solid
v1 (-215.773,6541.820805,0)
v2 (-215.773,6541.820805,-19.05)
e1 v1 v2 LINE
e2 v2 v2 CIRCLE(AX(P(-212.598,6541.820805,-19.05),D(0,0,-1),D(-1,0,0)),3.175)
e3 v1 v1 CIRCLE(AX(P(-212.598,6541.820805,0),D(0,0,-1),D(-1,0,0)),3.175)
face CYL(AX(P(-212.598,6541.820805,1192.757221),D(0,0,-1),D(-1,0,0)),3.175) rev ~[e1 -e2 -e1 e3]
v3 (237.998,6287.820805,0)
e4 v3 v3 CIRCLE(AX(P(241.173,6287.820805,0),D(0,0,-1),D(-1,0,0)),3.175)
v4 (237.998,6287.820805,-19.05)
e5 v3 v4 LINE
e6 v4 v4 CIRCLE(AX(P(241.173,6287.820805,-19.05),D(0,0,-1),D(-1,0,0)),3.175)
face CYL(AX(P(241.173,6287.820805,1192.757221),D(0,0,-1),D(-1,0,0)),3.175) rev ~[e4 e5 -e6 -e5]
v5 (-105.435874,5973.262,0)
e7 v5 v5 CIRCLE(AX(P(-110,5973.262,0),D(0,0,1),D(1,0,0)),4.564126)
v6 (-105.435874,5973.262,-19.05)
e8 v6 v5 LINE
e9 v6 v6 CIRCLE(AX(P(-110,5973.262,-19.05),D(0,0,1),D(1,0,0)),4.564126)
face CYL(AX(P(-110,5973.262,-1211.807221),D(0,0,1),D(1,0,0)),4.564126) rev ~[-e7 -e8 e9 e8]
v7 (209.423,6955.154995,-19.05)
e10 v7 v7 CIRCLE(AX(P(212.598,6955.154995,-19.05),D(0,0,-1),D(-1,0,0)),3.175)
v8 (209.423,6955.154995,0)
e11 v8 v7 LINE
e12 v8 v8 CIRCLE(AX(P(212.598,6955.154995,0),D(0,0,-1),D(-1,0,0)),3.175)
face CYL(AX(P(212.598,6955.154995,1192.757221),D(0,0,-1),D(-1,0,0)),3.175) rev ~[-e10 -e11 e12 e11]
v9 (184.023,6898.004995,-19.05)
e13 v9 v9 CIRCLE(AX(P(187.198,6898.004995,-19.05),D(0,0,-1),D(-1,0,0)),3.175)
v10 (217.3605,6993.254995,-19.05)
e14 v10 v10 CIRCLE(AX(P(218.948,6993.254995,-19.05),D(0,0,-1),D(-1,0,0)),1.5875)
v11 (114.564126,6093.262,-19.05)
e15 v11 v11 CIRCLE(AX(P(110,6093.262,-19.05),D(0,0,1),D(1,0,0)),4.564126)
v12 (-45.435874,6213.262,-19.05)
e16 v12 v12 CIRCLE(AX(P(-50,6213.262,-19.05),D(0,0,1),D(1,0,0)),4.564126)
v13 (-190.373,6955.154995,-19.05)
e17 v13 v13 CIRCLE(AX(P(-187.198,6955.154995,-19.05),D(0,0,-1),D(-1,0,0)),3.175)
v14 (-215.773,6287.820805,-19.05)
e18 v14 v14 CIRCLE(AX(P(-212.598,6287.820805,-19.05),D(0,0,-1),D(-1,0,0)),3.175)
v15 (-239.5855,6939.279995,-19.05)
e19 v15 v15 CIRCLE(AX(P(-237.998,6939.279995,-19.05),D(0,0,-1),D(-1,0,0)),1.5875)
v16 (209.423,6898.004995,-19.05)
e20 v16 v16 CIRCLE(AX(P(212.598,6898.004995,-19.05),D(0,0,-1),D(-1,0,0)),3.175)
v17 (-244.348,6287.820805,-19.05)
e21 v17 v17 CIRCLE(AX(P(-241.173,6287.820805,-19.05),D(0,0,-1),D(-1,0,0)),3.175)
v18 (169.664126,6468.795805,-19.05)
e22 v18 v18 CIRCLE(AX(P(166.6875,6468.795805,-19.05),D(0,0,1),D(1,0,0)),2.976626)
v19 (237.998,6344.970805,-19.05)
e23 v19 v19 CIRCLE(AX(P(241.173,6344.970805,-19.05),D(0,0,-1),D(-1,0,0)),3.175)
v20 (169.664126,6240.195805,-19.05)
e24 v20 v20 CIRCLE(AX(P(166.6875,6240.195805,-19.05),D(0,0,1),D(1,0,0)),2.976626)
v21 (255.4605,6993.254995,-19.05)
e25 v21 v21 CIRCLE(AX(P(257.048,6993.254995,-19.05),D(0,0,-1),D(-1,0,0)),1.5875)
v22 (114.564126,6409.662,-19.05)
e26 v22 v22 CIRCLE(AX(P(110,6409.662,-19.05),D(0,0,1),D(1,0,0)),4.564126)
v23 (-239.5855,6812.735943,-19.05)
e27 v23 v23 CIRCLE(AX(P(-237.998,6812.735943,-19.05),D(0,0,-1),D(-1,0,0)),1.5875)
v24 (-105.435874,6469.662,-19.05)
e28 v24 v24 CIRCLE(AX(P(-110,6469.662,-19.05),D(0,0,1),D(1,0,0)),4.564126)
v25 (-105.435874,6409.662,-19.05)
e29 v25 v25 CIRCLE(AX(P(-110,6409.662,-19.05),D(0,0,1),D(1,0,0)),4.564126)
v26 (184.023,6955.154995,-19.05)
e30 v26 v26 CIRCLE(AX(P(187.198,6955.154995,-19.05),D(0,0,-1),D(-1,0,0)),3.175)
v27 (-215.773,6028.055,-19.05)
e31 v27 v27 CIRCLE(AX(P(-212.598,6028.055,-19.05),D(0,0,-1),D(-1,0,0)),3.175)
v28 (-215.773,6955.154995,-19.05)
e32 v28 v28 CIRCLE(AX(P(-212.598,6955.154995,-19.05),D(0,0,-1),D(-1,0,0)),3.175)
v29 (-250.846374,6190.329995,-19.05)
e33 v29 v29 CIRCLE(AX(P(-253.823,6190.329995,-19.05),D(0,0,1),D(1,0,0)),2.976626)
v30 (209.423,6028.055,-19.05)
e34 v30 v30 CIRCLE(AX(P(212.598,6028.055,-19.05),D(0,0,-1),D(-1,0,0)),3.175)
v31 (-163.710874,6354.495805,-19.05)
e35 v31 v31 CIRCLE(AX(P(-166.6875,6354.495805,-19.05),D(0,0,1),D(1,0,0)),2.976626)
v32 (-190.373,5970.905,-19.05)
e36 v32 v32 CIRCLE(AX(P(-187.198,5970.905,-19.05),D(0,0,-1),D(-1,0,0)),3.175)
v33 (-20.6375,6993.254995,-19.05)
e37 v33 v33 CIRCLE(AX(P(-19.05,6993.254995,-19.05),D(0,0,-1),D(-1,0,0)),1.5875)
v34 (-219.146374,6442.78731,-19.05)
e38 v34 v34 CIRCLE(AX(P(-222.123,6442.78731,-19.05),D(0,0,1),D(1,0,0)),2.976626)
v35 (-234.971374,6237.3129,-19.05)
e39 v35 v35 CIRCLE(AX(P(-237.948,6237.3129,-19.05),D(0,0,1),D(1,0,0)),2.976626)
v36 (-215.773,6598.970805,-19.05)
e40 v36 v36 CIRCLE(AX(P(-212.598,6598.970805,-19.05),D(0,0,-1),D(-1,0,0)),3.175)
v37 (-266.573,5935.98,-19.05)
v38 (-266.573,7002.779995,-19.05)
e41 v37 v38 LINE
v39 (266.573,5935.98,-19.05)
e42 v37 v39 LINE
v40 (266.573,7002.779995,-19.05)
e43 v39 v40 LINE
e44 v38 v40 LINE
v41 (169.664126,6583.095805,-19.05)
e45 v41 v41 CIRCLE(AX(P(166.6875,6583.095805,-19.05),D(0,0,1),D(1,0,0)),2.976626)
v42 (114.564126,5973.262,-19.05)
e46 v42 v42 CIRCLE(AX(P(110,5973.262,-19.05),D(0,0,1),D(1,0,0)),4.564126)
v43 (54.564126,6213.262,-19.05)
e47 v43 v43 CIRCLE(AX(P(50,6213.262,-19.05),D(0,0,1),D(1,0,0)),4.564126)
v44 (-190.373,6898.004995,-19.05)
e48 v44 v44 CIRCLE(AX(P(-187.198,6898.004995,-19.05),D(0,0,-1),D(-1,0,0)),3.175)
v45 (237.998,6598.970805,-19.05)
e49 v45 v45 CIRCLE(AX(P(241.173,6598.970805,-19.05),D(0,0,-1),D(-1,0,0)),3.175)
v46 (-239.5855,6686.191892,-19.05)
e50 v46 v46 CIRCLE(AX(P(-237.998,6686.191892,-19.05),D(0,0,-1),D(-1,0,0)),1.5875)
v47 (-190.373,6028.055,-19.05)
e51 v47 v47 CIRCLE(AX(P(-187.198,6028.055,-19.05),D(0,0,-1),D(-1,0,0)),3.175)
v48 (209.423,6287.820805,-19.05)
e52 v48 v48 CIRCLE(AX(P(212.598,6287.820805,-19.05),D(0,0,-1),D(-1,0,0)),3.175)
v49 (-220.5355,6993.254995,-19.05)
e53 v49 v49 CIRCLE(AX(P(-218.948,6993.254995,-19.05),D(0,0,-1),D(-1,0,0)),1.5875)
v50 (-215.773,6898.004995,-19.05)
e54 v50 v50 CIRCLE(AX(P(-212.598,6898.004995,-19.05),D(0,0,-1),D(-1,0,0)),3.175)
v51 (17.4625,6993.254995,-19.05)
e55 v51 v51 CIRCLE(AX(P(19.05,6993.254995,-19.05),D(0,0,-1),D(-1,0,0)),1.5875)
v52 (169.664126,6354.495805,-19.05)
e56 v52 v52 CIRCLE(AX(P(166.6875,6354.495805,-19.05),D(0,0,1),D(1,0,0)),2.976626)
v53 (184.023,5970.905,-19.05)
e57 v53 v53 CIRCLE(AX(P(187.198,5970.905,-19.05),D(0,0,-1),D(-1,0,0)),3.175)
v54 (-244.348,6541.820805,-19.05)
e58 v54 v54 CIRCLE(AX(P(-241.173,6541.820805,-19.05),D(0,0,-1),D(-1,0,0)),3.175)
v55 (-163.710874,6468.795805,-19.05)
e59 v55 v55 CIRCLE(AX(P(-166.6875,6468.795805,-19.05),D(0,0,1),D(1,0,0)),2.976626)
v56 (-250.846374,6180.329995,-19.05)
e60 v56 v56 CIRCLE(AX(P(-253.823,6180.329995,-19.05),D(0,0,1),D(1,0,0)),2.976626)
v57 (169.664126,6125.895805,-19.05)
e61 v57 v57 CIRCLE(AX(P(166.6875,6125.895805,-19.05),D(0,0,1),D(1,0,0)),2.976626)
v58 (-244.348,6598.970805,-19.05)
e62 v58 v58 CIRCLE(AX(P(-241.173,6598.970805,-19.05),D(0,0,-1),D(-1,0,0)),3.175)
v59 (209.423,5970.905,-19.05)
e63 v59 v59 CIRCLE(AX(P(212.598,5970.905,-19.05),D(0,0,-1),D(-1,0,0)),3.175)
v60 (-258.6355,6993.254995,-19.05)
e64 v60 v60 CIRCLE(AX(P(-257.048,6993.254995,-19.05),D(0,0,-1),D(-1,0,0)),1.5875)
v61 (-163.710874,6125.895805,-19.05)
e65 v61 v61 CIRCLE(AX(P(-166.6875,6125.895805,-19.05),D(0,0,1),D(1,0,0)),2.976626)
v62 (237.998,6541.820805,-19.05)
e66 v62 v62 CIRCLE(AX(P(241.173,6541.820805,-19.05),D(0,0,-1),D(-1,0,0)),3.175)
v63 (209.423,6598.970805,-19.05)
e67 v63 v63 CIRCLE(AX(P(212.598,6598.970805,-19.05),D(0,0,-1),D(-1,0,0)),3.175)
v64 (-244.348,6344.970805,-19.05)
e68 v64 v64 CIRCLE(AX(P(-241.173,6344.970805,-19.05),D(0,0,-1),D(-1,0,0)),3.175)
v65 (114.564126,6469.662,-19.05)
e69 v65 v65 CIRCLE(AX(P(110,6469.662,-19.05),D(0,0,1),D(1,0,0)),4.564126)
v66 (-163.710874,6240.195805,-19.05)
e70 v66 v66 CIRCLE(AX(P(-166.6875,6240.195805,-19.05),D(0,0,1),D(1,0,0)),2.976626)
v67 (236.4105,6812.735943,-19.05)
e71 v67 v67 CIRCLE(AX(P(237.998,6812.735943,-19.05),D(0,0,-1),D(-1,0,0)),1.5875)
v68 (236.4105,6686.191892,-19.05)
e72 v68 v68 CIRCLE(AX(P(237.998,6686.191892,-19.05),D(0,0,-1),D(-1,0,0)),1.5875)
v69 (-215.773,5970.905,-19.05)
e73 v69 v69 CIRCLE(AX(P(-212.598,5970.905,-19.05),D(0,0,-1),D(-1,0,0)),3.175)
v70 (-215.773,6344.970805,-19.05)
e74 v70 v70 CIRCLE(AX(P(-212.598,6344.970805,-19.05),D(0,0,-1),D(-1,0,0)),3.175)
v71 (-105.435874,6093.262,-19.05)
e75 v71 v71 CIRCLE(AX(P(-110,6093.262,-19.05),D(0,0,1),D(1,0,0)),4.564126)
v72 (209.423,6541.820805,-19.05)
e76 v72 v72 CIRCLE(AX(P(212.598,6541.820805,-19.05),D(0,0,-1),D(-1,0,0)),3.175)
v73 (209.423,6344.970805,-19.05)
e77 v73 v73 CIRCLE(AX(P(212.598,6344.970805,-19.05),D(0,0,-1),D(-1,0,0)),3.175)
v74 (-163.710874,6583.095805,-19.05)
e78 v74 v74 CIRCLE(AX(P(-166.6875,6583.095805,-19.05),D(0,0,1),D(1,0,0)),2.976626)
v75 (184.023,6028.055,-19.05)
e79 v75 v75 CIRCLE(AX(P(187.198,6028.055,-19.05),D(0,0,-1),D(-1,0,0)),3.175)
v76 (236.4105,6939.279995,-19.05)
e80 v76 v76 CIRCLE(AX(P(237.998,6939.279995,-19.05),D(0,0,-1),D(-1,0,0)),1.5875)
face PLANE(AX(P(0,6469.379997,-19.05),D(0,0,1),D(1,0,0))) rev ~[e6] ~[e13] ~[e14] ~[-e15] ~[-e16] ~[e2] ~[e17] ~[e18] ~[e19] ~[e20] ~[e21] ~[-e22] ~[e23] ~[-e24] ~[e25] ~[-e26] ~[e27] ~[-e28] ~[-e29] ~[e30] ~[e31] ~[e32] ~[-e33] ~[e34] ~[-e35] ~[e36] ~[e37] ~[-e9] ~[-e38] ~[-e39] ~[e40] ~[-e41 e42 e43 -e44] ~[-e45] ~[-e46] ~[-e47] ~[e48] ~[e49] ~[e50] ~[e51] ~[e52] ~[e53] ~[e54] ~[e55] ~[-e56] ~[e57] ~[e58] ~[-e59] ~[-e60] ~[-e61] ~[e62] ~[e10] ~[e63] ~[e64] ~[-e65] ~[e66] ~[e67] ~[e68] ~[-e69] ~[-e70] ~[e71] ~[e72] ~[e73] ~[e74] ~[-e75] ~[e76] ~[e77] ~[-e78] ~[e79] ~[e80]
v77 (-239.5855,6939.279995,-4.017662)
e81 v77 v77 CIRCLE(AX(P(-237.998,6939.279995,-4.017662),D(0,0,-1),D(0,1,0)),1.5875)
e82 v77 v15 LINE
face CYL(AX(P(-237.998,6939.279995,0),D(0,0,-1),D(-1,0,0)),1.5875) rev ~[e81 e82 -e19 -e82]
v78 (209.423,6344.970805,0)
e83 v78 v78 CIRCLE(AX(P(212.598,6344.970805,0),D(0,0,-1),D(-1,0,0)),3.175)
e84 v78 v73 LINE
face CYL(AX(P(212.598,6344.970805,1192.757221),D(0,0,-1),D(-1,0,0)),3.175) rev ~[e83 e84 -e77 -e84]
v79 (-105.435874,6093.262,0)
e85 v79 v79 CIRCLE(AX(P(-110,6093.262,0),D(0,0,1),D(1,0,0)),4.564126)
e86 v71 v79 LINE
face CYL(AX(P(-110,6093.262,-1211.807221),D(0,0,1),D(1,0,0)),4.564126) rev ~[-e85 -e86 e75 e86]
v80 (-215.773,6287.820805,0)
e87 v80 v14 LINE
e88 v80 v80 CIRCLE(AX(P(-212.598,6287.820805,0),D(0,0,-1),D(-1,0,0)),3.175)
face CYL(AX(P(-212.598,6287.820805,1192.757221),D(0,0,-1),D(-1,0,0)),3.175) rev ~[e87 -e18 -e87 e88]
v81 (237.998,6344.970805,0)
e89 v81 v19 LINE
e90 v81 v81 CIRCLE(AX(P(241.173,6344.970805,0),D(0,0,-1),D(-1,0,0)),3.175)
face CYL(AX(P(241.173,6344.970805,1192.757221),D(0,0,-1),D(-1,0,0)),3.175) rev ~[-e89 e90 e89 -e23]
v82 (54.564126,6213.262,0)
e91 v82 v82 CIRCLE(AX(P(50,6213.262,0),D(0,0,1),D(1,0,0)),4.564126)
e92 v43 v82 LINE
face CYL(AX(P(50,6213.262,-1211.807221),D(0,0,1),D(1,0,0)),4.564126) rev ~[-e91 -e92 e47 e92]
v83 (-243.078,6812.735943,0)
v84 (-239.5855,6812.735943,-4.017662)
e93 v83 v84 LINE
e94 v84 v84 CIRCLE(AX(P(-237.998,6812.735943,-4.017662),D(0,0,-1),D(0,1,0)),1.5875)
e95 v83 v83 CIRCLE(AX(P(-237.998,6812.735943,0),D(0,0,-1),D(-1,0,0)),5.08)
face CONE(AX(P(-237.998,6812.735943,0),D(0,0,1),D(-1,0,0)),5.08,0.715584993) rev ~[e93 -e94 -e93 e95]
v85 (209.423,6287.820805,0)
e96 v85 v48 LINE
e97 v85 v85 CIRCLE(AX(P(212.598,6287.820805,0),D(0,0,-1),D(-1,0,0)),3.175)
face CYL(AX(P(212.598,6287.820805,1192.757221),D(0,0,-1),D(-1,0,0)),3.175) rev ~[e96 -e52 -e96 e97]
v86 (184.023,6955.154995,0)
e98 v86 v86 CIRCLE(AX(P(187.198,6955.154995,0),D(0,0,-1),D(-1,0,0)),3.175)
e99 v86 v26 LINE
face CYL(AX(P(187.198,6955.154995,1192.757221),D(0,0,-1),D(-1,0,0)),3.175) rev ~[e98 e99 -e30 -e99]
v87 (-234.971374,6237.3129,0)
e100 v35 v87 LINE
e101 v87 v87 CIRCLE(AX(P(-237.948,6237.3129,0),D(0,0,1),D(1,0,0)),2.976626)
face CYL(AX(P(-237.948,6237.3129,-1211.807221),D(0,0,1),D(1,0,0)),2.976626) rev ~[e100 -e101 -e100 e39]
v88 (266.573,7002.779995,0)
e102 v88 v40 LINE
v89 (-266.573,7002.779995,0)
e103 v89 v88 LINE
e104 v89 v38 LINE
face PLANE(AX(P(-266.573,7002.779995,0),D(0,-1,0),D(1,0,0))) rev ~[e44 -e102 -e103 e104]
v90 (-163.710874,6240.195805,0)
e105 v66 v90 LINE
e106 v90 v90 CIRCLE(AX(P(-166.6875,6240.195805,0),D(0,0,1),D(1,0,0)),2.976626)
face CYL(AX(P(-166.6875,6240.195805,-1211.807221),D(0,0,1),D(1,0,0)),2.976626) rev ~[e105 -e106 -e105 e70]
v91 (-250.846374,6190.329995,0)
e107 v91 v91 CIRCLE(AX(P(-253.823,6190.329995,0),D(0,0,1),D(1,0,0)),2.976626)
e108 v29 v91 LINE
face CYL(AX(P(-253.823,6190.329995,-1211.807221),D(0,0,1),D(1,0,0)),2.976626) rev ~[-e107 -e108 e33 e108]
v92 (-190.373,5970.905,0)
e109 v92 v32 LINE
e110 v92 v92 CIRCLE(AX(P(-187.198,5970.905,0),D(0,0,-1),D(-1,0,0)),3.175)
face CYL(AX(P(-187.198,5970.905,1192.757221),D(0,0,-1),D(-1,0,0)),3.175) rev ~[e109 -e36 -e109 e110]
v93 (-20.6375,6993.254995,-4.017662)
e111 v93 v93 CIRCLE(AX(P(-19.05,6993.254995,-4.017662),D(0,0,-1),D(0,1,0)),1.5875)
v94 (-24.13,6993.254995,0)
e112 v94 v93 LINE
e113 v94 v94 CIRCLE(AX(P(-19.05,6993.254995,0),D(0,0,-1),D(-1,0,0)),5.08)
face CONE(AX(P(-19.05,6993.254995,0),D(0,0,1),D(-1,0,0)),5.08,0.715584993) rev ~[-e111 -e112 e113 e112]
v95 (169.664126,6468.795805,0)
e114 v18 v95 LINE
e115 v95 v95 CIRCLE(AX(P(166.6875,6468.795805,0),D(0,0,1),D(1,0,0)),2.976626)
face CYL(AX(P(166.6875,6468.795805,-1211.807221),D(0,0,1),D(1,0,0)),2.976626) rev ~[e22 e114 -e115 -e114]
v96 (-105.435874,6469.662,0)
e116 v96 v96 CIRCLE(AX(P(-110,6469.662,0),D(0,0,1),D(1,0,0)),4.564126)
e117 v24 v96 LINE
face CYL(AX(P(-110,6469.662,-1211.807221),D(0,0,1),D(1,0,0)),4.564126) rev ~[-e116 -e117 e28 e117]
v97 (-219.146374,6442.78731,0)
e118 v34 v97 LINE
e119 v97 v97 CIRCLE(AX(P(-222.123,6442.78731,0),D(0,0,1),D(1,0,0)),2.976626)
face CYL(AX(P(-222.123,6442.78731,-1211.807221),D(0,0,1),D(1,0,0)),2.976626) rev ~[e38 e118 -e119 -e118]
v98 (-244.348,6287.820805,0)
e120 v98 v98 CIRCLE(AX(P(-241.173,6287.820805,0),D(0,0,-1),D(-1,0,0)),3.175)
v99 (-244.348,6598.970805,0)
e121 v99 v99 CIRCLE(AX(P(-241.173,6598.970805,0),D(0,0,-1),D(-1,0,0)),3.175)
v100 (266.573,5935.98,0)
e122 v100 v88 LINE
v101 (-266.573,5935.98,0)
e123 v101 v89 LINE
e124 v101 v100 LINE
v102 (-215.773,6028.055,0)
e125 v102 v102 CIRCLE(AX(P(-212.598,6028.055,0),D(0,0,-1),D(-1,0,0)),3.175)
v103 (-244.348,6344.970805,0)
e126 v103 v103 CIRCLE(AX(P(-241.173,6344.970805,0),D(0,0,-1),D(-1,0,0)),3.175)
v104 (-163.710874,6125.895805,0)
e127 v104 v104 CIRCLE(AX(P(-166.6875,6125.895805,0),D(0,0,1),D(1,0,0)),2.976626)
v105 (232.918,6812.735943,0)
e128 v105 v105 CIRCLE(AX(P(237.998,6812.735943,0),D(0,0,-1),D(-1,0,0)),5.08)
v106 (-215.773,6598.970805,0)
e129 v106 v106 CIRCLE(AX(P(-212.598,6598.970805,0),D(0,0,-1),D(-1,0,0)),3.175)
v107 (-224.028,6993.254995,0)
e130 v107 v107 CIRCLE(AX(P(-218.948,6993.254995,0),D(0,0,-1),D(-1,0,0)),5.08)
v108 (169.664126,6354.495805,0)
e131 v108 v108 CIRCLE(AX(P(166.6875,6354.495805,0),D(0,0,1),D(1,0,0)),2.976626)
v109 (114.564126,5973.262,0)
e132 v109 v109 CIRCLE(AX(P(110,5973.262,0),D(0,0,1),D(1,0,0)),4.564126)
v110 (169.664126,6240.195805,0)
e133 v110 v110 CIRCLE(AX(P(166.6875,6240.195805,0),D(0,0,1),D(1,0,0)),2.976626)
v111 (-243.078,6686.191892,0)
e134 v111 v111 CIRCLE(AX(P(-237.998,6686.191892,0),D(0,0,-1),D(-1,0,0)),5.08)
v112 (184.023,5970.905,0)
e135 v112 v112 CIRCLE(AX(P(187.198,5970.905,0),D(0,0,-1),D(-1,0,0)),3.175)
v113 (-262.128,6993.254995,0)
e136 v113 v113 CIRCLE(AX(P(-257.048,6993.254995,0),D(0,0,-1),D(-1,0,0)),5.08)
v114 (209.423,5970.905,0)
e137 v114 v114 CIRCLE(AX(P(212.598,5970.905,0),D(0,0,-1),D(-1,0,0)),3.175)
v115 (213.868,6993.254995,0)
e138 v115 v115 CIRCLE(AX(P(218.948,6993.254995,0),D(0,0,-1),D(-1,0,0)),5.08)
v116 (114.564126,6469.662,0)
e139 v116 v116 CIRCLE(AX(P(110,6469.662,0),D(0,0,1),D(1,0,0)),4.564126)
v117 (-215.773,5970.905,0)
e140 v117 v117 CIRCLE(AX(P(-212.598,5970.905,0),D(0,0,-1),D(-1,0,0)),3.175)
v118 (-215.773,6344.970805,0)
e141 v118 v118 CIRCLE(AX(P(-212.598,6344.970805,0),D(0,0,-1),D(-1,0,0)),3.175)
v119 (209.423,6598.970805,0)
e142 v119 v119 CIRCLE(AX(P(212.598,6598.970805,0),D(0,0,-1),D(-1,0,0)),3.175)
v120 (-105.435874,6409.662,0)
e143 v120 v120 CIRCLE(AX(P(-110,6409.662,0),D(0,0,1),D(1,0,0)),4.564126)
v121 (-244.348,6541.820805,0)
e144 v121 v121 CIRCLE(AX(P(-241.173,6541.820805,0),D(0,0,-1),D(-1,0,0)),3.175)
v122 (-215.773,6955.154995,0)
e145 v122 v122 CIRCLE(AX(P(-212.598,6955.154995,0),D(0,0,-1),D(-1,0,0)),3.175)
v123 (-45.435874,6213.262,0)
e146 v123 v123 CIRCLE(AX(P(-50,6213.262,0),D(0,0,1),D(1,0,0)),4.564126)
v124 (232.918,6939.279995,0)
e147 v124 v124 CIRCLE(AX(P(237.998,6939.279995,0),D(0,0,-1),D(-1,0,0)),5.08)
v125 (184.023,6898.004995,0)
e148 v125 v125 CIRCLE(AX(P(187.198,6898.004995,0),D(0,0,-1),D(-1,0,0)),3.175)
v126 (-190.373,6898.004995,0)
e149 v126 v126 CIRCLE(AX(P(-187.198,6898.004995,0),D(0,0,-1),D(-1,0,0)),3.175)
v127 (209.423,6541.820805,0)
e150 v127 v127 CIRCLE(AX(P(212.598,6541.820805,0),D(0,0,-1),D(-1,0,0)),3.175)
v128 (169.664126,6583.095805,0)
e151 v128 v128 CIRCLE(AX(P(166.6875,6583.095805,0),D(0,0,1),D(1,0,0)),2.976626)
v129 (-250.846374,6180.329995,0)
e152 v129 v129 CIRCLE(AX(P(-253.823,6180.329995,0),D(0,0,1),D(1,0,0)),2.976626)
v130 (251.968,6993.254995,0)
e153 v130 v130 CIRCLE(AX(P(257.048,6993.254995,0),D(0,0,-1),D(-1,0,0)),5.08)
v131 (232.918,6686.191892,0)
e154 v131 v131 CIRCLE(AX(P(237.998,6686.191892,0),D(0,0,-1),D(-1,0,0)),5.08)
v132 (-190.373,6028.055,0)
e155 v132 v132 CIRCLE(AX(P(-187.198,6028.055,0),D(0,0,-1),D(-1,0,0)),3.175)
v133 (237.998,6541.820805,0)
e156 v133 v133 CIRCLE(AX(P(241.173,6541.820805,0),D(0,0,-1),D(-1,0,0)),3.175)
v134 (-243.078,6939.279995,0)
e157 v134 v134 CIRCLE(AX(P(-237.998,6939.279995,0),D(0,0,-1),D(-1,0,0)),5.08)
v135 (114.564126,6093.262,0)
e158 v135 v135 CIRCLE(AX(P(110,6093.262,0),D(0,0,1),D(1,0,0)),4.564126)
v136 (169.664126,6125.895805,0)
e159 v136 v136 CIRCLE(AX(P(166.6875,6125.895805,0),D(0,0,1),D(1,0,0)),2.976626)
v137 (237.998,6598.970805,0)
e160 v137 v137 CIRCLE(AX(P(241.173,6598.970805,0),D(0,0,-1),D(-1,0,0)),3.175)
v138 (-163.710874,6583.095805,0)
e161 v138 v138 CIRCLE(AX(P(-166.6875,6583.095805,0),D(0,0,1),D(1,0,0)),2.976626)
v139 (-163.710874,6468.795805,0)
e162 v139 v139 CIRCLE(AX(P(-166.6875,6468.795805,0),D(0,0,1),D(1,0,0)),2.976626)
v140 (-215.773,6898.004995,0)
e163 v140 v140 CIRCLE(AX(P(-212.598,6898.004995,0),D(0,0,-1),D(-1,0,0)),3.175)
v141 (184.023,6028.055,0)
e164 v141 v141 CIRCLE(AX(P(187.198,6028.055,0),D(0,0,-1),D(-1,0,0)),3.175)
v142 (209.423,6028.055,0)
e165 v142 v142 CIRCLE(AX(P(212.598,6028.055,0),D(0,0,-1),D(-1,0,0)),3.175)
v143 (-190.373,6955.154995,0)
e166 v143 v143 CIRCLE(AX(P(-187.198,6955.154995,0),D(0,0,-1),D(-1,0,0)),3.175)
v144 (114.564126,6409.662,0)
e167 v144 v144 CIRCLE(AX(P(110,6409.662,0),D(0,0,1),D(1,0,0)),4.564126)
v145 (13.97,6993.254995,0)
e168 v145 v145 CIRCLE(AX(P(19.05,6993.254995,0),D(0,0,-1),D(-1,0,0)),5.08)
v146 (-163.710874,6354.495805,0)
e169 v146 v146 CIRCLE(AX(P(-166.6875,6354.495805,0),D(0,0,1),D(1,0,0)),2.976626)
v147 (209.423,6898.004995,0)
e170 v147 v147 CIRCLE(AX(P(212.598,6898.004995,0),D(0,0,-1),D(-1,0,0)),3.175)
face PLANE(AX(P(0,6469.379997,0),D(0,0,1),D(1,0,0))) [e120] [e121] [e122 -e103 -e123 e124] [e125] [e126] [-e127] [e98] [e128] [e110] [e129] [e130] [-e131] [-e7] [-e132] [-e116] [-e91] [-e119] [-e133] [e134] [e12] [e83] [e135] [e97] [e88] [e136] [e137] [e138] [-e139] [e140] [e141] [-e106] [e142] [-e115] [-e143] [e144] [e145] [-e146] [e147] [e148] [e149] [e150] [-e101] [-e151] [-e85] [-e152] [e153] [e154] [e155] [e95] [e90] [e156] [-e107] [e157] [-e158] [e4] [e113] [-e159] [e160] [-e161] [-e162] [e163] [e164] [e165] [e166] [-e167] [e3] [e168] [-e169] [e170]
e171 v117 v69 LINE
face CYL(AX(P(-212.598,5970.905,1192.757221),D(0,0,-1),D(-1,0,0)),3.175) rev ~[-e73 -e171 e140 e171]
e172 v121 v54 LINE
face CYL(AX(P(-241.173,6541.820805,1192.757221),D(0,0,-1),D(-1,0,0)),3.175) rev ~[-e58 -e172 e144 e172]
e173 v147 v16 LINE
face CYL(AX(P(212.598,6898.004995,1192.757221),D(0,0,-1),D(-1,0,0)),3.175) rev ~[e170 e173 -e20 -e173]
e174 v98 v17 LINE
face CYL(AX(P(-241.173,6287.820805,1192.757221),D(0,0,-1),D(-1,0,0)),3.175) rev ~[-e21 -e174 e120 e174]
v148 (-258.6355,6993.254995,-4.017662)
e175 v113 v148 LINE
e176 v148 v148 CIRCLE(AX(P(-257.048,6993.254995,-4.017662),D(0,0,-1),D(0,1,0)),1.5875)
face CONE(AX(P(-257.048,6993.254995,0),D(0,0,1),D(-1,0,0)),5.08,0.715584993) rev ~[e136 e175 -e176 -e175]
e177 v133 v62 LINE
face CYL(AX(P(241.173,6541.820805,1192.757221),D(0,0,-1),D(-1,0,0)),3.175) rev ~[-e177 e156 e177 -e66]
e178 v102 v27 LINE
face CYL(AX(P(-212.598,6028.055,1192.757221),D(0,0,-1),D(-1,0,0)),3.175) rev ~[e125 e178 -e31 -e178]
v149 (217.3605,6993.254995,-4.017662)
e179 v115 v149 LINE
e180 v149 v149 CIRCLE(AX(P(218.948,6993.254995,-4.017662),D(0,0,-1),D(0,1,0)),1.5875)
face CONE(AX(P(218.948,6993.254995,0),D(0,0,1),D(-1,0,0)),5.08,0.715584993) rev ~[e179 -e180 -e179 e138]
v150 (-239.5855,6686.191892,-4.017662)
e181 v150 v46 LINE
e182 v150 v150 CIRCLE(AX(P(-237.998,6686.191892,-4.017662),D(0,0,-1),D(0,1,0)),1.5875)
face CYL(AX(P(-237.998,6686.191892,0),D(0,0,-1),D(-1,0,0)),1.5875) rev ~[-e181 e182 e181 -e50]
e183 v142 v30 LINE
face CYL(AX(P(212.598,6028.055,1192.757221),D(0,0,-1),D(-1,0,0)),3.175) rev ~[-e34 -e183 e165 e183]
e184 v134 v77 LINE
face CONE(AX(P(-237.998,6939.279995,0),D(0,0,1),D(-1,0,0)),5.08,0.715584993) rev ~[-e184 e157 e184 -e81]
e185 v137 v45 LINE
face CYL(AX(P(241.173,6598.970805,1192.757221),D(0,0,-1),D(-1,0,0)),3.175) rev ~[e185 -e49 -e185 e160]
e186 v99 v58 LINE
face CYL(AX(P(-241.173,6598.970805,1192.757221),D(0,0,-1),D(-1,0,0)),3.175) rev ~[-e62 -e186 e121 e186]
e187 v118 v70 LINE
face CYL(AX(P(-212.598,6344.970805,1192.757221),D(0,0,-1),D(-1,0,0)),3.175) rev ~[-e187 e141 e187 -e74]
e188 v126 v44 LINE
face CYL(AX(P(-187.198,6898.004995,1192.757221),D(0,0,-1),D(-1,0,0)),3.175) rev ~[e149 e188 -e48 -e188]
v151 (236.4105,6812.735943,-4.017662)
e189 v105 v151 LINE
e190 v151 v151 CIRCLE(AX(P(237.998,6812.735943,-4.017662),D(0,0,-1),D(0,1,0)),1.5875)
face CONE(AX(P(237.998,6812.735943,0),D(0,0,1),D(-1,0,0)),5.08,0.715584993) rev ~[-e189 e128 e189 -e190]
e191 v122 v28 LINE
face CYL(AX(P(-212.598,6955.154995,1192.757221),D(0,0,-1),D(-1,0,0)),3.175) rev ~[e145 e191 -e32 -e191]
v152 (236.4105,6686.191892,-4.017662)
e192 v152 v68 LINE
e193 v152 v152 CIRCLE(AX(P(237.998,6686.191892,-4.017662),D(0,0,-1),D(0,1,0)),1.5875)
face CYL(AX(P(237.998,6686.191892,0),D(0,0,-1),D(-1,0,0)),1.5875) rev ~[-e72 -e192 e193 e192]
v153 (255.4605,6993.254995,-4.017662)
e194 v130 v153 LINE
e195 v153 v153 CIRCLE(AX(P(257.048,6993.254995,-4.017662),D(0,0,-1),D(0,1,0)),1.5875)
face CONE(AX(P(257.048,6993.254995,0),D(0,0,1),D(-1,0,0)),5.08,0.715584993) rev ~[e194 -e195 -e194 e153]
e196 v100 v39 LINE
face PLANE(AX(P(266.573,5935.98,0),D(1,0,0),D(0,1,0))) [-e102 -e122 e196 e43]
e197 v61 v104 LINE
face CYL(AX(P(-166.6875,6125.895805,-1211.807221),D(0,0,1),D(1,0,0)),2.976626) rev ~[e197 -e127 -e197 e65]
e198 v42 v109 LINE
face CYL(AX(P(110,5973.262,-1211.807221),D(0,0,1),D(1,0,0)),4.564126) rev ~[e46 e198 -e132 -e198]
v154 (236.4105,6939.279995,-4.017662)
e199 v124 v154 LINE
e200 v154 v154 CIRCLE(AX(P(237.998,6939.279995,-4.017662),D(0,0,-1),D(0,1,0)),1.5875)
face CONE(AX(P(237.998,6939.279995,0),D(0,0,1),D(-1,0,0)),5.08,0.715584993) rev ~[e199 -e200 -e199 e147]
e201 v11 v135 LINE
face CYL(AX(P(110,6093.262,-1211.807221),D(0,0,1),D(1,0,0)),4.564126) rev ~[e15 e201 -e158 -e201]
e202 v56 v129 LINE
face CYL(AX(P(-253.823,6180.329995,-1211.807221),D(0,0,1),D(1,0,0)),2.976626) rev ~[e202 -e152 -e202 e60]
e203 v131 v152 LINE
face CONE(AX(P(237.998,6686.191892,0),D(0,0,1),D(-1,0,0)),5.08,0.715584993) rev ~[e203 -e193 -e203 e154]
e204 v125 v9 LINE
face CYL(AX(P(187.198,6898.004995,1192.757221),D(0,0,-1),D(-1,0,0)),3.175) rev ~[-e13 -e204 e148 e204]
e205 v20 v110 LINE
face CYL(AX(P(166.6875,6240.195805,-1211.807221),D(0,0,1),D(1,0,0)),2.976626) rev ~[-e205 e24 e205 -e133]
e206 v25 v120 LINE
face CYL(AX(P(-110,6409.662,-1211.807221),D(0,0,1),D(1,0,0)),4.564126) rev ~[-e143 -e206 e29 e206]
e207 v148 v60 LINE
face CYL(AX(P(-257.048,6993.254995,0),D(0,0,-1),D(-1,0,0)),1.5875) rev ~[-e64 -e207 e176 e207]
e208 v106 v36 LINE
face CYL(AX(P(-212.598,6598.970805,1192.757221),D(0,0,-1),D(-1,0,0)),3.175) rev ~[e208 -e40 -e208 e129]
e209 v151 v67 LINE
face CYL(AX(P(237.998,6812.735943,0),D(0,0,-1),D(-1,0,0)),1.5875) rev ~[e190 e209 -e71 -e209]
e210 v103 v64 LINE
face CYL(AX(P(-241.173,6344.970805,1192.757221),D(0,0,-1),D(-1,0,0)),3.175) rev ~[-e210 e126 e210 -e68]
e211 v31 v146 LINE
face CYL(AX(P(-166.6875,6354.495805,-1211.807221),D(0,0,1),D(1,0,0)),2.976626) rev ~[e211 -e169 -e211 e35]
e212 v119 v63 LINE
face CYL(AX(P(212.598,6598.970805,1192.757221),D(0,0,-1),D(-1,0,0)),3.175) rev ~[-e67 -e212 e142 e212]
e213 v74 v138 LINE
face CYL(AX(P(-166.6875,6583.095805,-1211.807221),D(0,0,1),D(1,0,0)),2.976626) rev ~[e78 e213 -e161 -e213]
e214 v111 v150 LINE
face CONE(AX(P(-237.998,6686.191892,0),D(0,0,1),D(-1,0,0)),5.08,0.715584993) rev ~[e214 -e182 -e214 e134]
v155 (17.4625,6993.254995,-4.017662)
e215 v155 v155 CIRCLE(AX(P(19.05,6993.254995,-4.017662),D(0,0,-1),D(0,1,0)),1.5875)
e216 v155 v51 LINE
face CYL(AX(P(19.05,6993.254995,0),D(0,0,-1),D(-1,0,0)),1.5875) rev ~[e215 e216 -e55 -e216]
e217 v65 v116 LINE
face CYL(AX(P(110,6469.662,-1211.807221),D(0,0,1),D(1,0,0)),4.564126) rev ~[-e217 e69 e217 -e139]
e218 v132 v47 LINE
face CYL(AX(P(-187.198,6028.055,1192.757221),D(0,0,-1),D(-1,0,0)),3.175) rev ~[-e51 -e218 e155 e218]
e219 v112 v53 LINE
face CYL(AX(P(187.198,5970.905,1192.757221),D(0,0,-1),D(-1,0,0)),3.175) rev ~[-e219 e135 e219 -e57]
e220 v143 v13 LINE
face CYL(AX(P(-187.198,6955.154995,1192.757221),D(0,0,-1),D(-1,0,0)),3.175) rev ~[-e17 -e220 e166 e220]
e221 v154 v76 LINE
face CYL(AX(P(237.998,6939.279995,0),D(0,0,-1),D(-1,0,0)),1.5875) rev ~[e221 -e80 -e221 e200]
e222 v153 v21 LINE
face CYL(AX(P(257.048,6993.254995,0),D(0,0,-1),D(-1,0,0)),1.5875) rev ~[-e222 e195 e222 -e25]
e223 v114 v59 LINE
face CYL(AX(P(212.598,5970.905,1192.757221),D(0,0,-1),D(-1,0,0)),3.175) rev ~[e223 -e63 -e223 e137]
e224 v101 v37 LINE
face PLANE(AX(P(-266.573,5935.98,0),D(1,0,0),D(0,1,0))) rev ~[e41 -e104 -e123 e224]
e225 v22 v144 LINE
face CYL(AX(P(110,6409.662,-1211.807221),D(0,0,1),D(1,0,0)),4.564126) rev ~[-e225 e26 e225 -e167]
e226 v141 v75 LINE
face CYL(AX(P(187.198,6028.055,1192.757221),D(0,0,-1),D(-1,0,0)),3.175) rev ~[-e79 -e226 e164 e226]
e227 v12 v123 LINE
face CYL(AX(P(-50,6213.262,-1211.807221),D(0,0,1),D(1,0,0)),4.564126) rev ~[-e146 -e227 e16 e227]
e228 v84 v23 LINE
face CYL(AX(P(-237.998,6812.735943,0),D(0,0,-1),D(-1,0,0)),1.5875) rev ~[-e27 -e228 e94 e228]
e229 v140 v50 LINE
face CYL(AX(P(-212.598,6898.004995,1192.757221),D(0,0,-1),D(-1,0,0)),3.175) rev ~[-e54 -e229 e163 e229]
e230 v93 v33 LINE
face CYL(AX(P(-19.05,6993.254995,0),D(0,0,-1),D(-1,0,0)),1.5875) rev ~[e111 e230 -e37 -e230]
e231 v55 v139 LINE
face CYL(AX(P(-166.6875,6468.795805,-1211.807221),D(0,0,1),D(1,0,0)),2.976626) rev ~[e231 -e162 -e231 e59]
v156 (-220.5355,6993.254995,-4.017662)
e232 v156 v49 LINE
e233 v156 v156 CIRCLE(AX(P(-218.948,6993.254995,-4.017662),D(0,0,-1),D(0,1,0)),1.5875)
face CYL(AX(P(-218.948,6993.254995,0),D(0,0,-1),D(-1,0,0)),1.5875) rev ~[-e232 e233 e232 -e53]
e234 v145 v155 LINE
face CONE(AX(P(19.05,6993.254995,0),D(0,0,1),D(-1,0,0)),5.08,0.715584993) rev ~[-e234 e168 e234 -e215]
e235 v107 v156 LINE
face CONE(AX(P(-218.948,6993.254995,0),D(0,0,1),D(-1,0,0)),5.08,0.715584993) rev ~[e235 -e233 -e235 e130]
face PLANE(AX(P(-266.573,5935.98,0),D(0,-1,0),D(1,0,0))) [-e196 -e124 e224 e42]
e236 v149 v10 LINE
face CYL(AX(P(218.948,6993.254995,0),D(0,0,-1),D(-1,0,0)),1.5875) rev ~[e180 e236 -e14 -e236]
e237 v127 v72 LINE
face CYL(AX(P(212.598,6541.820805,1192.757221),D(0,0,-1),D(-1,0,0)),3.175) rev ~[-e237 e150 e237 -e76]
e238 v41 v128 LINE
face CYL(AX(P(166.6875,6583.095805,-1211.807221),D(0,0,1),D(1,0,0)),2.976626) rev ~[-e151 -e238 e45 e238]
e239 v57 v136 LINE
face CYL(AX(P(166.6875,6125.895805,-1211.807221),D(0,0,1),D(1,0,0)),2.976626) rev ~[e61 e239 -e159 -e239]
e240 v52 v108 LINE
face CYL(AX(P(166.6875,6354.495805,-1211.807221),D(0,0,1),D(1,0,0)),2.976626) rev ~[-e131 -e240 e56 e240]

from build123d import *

# Parameters (mm, degrees)
SKETCH1_W                        = 533.146
SKETCH1_H                        = 1066.799994849
BOSS_EXTRUDE1_DEPTH              = 19.05
F_23_64_0_35938_DIAMETER_HOLE1_D = 9.128252
F_15_64_0_23438_DIAMETER_HOLE1_D = 5.953252
F_1_4_0_25_DIAMETER_HOLE1_D      = 6.35
F_15_64_0_23438_DIAMETER_HOLE2_D = 5.953252
HOLE1_D                          = 3.175
HOLE1_DEPTH                      = 38.1
HOLE1_CSINK_D                    = 10.16
HOLE1_CSINK_ANGLE                = 82
HOLE1_TIP                        = 0.953866233


with BuildPart() as part:
    # Sketch1 → Boss-Extrude1 (new body)
    with BuildSketch(Plane.XY):
        with Locations((0, 6469.379997497)):
            Rectangle(SKETCH1_W, SKETCH1_H)
    extrude(amount=-BOSS_EXTRUDE1_DEPTH)

    # 23/64 (0.35938) Diameter Hole1 (through all)
    with Locations(Plane(origin=(0, 0, -19.05), x_dir=(-1, 0, 0), z_dir=(0, 0, -1))):
        with Locations((110, 5973.262000072), (110, 6093.262000072), (-110, 6093.262000072), (-110, 5973.262000072), (-50, 6213.262000072), (50, 6213.262000072), (-110, 6409.662000072), (-110, 6469.662000072), (110, 6409.662000072), (110, 6469.662000072)):
            Hole(F_23_64_0_35938_DIAMETER_HOLE1_D / 2)

    # 15/64 (0.23438) Diameter Hole1 (through all)
    with Locations(Plane(origin=(0, 0, -19.05), x_dir=(-1, 0, 0), z_dir=(0, 0, -1))):
        with Locations((166.6875, 6125.895804781), (166.6875, 6240.195804781), (166.6875, 6354.495804781), (166.6875, 6468.795804781), (166.6875, 6583.095804781), (-166.6875, 6125.895804781), (-166.6875, 6240.195804781), (-166.6875, 6354.495804781), (-166.6875, 6468.795804781), (-166.6875, 6583.095804781)):
            Hole(F_15_64_0_23438_DIAMETER_HOLE1_D / 2)

    # 1/4 (0.25) Diameter Hole1 (through all)
    with Locations(Plane.XY):
        with Locations((-212.598, 6955.154994921), (-212.598, 6898.004994921), (-187.198, 6898.004994921), (-187.198, 6955.154994921), (-241.173, 6598.970804781), (-241.173, 6541.820804781), (-212.598, 6541.820804781), (-212.598, 6598.970804781), (-212.598, 6344.970804781), (-241.173, 6344.970804781), (-241.173, 6287.820804781), (-212.598, 6287.820804781), (-212.598, 6028.055000072), (-187.198, 6028.055000072), (-187.198, 5970.905000072), (-212.598, 5970.905000072), (212.598, 5970.905000072), (187.198, 5970.905000072), (187.198, 6028.055000072), (212.598, 6028.055000072), (212.598, 6287.820804781), (241.173, 6287.820804781), (241.173, 6344.970804781), (212.598, 6344.970804781), (212.598, 6598.970804781), (212.598, 6541.820804781), (241.173, 6541.820804781), (241.173, 6598.970804781), (187.198, 6955.154994921), (187.198, 6898.004994921), (212.598, 6898.004994921), (212.598, 6955.154994921)):
            Hole(F_1_4_0_25_DIAMETER_HOLE1_D / 2)

    # 15/64 (0.23438) Diameter Hole2 (through all)
    with Locations(Plane(origin=(0, 0, -19.05), x_dir=(-1, 0, 0), z_dir=(0, 0, -1))):
        with Locations((222.123, 6442.787309643), (253.823, 6180.329994921), (253.823, 6190.329994921), (237.948, 6237.312899851)):
            Hole(F_15_64_0_23438_DIAMETER_HOLE2_D / 2)

    # Hole1
    with Locations(Plane.XY):
        with Locations((-237.998, 6686.191891629), (237.998, 6686.191891629), (257.048, 6993.254994921), (218.948, 6993.254994921), (19.05, 6993.254994921), (237.998, 6939.279994921), (237.998, 6812.735943275), (-237.998, 6812.735943275), (-237.998, 6939.279994921), (-19.05, 6993.254994921), (-218.948, 6993.254994921), (-257.048, 6993.254994921)):
            CounterSinkHole(HOLE1_D / 2, HOLE1_CSINK_D / 2, depth=HOLE1_DEPTH, counter_sink_angle=HOLE1_CSINK_ANGLE)
            with Locations((0, 0, -(HOLE1_DEPTH + HOLE1_TIP / 2))):  # 118° drill point
                Cone(0, HOLE1_D / 2, HOLE1_TIP, mode=Mode.SUBTRACT)


solid = part.part
